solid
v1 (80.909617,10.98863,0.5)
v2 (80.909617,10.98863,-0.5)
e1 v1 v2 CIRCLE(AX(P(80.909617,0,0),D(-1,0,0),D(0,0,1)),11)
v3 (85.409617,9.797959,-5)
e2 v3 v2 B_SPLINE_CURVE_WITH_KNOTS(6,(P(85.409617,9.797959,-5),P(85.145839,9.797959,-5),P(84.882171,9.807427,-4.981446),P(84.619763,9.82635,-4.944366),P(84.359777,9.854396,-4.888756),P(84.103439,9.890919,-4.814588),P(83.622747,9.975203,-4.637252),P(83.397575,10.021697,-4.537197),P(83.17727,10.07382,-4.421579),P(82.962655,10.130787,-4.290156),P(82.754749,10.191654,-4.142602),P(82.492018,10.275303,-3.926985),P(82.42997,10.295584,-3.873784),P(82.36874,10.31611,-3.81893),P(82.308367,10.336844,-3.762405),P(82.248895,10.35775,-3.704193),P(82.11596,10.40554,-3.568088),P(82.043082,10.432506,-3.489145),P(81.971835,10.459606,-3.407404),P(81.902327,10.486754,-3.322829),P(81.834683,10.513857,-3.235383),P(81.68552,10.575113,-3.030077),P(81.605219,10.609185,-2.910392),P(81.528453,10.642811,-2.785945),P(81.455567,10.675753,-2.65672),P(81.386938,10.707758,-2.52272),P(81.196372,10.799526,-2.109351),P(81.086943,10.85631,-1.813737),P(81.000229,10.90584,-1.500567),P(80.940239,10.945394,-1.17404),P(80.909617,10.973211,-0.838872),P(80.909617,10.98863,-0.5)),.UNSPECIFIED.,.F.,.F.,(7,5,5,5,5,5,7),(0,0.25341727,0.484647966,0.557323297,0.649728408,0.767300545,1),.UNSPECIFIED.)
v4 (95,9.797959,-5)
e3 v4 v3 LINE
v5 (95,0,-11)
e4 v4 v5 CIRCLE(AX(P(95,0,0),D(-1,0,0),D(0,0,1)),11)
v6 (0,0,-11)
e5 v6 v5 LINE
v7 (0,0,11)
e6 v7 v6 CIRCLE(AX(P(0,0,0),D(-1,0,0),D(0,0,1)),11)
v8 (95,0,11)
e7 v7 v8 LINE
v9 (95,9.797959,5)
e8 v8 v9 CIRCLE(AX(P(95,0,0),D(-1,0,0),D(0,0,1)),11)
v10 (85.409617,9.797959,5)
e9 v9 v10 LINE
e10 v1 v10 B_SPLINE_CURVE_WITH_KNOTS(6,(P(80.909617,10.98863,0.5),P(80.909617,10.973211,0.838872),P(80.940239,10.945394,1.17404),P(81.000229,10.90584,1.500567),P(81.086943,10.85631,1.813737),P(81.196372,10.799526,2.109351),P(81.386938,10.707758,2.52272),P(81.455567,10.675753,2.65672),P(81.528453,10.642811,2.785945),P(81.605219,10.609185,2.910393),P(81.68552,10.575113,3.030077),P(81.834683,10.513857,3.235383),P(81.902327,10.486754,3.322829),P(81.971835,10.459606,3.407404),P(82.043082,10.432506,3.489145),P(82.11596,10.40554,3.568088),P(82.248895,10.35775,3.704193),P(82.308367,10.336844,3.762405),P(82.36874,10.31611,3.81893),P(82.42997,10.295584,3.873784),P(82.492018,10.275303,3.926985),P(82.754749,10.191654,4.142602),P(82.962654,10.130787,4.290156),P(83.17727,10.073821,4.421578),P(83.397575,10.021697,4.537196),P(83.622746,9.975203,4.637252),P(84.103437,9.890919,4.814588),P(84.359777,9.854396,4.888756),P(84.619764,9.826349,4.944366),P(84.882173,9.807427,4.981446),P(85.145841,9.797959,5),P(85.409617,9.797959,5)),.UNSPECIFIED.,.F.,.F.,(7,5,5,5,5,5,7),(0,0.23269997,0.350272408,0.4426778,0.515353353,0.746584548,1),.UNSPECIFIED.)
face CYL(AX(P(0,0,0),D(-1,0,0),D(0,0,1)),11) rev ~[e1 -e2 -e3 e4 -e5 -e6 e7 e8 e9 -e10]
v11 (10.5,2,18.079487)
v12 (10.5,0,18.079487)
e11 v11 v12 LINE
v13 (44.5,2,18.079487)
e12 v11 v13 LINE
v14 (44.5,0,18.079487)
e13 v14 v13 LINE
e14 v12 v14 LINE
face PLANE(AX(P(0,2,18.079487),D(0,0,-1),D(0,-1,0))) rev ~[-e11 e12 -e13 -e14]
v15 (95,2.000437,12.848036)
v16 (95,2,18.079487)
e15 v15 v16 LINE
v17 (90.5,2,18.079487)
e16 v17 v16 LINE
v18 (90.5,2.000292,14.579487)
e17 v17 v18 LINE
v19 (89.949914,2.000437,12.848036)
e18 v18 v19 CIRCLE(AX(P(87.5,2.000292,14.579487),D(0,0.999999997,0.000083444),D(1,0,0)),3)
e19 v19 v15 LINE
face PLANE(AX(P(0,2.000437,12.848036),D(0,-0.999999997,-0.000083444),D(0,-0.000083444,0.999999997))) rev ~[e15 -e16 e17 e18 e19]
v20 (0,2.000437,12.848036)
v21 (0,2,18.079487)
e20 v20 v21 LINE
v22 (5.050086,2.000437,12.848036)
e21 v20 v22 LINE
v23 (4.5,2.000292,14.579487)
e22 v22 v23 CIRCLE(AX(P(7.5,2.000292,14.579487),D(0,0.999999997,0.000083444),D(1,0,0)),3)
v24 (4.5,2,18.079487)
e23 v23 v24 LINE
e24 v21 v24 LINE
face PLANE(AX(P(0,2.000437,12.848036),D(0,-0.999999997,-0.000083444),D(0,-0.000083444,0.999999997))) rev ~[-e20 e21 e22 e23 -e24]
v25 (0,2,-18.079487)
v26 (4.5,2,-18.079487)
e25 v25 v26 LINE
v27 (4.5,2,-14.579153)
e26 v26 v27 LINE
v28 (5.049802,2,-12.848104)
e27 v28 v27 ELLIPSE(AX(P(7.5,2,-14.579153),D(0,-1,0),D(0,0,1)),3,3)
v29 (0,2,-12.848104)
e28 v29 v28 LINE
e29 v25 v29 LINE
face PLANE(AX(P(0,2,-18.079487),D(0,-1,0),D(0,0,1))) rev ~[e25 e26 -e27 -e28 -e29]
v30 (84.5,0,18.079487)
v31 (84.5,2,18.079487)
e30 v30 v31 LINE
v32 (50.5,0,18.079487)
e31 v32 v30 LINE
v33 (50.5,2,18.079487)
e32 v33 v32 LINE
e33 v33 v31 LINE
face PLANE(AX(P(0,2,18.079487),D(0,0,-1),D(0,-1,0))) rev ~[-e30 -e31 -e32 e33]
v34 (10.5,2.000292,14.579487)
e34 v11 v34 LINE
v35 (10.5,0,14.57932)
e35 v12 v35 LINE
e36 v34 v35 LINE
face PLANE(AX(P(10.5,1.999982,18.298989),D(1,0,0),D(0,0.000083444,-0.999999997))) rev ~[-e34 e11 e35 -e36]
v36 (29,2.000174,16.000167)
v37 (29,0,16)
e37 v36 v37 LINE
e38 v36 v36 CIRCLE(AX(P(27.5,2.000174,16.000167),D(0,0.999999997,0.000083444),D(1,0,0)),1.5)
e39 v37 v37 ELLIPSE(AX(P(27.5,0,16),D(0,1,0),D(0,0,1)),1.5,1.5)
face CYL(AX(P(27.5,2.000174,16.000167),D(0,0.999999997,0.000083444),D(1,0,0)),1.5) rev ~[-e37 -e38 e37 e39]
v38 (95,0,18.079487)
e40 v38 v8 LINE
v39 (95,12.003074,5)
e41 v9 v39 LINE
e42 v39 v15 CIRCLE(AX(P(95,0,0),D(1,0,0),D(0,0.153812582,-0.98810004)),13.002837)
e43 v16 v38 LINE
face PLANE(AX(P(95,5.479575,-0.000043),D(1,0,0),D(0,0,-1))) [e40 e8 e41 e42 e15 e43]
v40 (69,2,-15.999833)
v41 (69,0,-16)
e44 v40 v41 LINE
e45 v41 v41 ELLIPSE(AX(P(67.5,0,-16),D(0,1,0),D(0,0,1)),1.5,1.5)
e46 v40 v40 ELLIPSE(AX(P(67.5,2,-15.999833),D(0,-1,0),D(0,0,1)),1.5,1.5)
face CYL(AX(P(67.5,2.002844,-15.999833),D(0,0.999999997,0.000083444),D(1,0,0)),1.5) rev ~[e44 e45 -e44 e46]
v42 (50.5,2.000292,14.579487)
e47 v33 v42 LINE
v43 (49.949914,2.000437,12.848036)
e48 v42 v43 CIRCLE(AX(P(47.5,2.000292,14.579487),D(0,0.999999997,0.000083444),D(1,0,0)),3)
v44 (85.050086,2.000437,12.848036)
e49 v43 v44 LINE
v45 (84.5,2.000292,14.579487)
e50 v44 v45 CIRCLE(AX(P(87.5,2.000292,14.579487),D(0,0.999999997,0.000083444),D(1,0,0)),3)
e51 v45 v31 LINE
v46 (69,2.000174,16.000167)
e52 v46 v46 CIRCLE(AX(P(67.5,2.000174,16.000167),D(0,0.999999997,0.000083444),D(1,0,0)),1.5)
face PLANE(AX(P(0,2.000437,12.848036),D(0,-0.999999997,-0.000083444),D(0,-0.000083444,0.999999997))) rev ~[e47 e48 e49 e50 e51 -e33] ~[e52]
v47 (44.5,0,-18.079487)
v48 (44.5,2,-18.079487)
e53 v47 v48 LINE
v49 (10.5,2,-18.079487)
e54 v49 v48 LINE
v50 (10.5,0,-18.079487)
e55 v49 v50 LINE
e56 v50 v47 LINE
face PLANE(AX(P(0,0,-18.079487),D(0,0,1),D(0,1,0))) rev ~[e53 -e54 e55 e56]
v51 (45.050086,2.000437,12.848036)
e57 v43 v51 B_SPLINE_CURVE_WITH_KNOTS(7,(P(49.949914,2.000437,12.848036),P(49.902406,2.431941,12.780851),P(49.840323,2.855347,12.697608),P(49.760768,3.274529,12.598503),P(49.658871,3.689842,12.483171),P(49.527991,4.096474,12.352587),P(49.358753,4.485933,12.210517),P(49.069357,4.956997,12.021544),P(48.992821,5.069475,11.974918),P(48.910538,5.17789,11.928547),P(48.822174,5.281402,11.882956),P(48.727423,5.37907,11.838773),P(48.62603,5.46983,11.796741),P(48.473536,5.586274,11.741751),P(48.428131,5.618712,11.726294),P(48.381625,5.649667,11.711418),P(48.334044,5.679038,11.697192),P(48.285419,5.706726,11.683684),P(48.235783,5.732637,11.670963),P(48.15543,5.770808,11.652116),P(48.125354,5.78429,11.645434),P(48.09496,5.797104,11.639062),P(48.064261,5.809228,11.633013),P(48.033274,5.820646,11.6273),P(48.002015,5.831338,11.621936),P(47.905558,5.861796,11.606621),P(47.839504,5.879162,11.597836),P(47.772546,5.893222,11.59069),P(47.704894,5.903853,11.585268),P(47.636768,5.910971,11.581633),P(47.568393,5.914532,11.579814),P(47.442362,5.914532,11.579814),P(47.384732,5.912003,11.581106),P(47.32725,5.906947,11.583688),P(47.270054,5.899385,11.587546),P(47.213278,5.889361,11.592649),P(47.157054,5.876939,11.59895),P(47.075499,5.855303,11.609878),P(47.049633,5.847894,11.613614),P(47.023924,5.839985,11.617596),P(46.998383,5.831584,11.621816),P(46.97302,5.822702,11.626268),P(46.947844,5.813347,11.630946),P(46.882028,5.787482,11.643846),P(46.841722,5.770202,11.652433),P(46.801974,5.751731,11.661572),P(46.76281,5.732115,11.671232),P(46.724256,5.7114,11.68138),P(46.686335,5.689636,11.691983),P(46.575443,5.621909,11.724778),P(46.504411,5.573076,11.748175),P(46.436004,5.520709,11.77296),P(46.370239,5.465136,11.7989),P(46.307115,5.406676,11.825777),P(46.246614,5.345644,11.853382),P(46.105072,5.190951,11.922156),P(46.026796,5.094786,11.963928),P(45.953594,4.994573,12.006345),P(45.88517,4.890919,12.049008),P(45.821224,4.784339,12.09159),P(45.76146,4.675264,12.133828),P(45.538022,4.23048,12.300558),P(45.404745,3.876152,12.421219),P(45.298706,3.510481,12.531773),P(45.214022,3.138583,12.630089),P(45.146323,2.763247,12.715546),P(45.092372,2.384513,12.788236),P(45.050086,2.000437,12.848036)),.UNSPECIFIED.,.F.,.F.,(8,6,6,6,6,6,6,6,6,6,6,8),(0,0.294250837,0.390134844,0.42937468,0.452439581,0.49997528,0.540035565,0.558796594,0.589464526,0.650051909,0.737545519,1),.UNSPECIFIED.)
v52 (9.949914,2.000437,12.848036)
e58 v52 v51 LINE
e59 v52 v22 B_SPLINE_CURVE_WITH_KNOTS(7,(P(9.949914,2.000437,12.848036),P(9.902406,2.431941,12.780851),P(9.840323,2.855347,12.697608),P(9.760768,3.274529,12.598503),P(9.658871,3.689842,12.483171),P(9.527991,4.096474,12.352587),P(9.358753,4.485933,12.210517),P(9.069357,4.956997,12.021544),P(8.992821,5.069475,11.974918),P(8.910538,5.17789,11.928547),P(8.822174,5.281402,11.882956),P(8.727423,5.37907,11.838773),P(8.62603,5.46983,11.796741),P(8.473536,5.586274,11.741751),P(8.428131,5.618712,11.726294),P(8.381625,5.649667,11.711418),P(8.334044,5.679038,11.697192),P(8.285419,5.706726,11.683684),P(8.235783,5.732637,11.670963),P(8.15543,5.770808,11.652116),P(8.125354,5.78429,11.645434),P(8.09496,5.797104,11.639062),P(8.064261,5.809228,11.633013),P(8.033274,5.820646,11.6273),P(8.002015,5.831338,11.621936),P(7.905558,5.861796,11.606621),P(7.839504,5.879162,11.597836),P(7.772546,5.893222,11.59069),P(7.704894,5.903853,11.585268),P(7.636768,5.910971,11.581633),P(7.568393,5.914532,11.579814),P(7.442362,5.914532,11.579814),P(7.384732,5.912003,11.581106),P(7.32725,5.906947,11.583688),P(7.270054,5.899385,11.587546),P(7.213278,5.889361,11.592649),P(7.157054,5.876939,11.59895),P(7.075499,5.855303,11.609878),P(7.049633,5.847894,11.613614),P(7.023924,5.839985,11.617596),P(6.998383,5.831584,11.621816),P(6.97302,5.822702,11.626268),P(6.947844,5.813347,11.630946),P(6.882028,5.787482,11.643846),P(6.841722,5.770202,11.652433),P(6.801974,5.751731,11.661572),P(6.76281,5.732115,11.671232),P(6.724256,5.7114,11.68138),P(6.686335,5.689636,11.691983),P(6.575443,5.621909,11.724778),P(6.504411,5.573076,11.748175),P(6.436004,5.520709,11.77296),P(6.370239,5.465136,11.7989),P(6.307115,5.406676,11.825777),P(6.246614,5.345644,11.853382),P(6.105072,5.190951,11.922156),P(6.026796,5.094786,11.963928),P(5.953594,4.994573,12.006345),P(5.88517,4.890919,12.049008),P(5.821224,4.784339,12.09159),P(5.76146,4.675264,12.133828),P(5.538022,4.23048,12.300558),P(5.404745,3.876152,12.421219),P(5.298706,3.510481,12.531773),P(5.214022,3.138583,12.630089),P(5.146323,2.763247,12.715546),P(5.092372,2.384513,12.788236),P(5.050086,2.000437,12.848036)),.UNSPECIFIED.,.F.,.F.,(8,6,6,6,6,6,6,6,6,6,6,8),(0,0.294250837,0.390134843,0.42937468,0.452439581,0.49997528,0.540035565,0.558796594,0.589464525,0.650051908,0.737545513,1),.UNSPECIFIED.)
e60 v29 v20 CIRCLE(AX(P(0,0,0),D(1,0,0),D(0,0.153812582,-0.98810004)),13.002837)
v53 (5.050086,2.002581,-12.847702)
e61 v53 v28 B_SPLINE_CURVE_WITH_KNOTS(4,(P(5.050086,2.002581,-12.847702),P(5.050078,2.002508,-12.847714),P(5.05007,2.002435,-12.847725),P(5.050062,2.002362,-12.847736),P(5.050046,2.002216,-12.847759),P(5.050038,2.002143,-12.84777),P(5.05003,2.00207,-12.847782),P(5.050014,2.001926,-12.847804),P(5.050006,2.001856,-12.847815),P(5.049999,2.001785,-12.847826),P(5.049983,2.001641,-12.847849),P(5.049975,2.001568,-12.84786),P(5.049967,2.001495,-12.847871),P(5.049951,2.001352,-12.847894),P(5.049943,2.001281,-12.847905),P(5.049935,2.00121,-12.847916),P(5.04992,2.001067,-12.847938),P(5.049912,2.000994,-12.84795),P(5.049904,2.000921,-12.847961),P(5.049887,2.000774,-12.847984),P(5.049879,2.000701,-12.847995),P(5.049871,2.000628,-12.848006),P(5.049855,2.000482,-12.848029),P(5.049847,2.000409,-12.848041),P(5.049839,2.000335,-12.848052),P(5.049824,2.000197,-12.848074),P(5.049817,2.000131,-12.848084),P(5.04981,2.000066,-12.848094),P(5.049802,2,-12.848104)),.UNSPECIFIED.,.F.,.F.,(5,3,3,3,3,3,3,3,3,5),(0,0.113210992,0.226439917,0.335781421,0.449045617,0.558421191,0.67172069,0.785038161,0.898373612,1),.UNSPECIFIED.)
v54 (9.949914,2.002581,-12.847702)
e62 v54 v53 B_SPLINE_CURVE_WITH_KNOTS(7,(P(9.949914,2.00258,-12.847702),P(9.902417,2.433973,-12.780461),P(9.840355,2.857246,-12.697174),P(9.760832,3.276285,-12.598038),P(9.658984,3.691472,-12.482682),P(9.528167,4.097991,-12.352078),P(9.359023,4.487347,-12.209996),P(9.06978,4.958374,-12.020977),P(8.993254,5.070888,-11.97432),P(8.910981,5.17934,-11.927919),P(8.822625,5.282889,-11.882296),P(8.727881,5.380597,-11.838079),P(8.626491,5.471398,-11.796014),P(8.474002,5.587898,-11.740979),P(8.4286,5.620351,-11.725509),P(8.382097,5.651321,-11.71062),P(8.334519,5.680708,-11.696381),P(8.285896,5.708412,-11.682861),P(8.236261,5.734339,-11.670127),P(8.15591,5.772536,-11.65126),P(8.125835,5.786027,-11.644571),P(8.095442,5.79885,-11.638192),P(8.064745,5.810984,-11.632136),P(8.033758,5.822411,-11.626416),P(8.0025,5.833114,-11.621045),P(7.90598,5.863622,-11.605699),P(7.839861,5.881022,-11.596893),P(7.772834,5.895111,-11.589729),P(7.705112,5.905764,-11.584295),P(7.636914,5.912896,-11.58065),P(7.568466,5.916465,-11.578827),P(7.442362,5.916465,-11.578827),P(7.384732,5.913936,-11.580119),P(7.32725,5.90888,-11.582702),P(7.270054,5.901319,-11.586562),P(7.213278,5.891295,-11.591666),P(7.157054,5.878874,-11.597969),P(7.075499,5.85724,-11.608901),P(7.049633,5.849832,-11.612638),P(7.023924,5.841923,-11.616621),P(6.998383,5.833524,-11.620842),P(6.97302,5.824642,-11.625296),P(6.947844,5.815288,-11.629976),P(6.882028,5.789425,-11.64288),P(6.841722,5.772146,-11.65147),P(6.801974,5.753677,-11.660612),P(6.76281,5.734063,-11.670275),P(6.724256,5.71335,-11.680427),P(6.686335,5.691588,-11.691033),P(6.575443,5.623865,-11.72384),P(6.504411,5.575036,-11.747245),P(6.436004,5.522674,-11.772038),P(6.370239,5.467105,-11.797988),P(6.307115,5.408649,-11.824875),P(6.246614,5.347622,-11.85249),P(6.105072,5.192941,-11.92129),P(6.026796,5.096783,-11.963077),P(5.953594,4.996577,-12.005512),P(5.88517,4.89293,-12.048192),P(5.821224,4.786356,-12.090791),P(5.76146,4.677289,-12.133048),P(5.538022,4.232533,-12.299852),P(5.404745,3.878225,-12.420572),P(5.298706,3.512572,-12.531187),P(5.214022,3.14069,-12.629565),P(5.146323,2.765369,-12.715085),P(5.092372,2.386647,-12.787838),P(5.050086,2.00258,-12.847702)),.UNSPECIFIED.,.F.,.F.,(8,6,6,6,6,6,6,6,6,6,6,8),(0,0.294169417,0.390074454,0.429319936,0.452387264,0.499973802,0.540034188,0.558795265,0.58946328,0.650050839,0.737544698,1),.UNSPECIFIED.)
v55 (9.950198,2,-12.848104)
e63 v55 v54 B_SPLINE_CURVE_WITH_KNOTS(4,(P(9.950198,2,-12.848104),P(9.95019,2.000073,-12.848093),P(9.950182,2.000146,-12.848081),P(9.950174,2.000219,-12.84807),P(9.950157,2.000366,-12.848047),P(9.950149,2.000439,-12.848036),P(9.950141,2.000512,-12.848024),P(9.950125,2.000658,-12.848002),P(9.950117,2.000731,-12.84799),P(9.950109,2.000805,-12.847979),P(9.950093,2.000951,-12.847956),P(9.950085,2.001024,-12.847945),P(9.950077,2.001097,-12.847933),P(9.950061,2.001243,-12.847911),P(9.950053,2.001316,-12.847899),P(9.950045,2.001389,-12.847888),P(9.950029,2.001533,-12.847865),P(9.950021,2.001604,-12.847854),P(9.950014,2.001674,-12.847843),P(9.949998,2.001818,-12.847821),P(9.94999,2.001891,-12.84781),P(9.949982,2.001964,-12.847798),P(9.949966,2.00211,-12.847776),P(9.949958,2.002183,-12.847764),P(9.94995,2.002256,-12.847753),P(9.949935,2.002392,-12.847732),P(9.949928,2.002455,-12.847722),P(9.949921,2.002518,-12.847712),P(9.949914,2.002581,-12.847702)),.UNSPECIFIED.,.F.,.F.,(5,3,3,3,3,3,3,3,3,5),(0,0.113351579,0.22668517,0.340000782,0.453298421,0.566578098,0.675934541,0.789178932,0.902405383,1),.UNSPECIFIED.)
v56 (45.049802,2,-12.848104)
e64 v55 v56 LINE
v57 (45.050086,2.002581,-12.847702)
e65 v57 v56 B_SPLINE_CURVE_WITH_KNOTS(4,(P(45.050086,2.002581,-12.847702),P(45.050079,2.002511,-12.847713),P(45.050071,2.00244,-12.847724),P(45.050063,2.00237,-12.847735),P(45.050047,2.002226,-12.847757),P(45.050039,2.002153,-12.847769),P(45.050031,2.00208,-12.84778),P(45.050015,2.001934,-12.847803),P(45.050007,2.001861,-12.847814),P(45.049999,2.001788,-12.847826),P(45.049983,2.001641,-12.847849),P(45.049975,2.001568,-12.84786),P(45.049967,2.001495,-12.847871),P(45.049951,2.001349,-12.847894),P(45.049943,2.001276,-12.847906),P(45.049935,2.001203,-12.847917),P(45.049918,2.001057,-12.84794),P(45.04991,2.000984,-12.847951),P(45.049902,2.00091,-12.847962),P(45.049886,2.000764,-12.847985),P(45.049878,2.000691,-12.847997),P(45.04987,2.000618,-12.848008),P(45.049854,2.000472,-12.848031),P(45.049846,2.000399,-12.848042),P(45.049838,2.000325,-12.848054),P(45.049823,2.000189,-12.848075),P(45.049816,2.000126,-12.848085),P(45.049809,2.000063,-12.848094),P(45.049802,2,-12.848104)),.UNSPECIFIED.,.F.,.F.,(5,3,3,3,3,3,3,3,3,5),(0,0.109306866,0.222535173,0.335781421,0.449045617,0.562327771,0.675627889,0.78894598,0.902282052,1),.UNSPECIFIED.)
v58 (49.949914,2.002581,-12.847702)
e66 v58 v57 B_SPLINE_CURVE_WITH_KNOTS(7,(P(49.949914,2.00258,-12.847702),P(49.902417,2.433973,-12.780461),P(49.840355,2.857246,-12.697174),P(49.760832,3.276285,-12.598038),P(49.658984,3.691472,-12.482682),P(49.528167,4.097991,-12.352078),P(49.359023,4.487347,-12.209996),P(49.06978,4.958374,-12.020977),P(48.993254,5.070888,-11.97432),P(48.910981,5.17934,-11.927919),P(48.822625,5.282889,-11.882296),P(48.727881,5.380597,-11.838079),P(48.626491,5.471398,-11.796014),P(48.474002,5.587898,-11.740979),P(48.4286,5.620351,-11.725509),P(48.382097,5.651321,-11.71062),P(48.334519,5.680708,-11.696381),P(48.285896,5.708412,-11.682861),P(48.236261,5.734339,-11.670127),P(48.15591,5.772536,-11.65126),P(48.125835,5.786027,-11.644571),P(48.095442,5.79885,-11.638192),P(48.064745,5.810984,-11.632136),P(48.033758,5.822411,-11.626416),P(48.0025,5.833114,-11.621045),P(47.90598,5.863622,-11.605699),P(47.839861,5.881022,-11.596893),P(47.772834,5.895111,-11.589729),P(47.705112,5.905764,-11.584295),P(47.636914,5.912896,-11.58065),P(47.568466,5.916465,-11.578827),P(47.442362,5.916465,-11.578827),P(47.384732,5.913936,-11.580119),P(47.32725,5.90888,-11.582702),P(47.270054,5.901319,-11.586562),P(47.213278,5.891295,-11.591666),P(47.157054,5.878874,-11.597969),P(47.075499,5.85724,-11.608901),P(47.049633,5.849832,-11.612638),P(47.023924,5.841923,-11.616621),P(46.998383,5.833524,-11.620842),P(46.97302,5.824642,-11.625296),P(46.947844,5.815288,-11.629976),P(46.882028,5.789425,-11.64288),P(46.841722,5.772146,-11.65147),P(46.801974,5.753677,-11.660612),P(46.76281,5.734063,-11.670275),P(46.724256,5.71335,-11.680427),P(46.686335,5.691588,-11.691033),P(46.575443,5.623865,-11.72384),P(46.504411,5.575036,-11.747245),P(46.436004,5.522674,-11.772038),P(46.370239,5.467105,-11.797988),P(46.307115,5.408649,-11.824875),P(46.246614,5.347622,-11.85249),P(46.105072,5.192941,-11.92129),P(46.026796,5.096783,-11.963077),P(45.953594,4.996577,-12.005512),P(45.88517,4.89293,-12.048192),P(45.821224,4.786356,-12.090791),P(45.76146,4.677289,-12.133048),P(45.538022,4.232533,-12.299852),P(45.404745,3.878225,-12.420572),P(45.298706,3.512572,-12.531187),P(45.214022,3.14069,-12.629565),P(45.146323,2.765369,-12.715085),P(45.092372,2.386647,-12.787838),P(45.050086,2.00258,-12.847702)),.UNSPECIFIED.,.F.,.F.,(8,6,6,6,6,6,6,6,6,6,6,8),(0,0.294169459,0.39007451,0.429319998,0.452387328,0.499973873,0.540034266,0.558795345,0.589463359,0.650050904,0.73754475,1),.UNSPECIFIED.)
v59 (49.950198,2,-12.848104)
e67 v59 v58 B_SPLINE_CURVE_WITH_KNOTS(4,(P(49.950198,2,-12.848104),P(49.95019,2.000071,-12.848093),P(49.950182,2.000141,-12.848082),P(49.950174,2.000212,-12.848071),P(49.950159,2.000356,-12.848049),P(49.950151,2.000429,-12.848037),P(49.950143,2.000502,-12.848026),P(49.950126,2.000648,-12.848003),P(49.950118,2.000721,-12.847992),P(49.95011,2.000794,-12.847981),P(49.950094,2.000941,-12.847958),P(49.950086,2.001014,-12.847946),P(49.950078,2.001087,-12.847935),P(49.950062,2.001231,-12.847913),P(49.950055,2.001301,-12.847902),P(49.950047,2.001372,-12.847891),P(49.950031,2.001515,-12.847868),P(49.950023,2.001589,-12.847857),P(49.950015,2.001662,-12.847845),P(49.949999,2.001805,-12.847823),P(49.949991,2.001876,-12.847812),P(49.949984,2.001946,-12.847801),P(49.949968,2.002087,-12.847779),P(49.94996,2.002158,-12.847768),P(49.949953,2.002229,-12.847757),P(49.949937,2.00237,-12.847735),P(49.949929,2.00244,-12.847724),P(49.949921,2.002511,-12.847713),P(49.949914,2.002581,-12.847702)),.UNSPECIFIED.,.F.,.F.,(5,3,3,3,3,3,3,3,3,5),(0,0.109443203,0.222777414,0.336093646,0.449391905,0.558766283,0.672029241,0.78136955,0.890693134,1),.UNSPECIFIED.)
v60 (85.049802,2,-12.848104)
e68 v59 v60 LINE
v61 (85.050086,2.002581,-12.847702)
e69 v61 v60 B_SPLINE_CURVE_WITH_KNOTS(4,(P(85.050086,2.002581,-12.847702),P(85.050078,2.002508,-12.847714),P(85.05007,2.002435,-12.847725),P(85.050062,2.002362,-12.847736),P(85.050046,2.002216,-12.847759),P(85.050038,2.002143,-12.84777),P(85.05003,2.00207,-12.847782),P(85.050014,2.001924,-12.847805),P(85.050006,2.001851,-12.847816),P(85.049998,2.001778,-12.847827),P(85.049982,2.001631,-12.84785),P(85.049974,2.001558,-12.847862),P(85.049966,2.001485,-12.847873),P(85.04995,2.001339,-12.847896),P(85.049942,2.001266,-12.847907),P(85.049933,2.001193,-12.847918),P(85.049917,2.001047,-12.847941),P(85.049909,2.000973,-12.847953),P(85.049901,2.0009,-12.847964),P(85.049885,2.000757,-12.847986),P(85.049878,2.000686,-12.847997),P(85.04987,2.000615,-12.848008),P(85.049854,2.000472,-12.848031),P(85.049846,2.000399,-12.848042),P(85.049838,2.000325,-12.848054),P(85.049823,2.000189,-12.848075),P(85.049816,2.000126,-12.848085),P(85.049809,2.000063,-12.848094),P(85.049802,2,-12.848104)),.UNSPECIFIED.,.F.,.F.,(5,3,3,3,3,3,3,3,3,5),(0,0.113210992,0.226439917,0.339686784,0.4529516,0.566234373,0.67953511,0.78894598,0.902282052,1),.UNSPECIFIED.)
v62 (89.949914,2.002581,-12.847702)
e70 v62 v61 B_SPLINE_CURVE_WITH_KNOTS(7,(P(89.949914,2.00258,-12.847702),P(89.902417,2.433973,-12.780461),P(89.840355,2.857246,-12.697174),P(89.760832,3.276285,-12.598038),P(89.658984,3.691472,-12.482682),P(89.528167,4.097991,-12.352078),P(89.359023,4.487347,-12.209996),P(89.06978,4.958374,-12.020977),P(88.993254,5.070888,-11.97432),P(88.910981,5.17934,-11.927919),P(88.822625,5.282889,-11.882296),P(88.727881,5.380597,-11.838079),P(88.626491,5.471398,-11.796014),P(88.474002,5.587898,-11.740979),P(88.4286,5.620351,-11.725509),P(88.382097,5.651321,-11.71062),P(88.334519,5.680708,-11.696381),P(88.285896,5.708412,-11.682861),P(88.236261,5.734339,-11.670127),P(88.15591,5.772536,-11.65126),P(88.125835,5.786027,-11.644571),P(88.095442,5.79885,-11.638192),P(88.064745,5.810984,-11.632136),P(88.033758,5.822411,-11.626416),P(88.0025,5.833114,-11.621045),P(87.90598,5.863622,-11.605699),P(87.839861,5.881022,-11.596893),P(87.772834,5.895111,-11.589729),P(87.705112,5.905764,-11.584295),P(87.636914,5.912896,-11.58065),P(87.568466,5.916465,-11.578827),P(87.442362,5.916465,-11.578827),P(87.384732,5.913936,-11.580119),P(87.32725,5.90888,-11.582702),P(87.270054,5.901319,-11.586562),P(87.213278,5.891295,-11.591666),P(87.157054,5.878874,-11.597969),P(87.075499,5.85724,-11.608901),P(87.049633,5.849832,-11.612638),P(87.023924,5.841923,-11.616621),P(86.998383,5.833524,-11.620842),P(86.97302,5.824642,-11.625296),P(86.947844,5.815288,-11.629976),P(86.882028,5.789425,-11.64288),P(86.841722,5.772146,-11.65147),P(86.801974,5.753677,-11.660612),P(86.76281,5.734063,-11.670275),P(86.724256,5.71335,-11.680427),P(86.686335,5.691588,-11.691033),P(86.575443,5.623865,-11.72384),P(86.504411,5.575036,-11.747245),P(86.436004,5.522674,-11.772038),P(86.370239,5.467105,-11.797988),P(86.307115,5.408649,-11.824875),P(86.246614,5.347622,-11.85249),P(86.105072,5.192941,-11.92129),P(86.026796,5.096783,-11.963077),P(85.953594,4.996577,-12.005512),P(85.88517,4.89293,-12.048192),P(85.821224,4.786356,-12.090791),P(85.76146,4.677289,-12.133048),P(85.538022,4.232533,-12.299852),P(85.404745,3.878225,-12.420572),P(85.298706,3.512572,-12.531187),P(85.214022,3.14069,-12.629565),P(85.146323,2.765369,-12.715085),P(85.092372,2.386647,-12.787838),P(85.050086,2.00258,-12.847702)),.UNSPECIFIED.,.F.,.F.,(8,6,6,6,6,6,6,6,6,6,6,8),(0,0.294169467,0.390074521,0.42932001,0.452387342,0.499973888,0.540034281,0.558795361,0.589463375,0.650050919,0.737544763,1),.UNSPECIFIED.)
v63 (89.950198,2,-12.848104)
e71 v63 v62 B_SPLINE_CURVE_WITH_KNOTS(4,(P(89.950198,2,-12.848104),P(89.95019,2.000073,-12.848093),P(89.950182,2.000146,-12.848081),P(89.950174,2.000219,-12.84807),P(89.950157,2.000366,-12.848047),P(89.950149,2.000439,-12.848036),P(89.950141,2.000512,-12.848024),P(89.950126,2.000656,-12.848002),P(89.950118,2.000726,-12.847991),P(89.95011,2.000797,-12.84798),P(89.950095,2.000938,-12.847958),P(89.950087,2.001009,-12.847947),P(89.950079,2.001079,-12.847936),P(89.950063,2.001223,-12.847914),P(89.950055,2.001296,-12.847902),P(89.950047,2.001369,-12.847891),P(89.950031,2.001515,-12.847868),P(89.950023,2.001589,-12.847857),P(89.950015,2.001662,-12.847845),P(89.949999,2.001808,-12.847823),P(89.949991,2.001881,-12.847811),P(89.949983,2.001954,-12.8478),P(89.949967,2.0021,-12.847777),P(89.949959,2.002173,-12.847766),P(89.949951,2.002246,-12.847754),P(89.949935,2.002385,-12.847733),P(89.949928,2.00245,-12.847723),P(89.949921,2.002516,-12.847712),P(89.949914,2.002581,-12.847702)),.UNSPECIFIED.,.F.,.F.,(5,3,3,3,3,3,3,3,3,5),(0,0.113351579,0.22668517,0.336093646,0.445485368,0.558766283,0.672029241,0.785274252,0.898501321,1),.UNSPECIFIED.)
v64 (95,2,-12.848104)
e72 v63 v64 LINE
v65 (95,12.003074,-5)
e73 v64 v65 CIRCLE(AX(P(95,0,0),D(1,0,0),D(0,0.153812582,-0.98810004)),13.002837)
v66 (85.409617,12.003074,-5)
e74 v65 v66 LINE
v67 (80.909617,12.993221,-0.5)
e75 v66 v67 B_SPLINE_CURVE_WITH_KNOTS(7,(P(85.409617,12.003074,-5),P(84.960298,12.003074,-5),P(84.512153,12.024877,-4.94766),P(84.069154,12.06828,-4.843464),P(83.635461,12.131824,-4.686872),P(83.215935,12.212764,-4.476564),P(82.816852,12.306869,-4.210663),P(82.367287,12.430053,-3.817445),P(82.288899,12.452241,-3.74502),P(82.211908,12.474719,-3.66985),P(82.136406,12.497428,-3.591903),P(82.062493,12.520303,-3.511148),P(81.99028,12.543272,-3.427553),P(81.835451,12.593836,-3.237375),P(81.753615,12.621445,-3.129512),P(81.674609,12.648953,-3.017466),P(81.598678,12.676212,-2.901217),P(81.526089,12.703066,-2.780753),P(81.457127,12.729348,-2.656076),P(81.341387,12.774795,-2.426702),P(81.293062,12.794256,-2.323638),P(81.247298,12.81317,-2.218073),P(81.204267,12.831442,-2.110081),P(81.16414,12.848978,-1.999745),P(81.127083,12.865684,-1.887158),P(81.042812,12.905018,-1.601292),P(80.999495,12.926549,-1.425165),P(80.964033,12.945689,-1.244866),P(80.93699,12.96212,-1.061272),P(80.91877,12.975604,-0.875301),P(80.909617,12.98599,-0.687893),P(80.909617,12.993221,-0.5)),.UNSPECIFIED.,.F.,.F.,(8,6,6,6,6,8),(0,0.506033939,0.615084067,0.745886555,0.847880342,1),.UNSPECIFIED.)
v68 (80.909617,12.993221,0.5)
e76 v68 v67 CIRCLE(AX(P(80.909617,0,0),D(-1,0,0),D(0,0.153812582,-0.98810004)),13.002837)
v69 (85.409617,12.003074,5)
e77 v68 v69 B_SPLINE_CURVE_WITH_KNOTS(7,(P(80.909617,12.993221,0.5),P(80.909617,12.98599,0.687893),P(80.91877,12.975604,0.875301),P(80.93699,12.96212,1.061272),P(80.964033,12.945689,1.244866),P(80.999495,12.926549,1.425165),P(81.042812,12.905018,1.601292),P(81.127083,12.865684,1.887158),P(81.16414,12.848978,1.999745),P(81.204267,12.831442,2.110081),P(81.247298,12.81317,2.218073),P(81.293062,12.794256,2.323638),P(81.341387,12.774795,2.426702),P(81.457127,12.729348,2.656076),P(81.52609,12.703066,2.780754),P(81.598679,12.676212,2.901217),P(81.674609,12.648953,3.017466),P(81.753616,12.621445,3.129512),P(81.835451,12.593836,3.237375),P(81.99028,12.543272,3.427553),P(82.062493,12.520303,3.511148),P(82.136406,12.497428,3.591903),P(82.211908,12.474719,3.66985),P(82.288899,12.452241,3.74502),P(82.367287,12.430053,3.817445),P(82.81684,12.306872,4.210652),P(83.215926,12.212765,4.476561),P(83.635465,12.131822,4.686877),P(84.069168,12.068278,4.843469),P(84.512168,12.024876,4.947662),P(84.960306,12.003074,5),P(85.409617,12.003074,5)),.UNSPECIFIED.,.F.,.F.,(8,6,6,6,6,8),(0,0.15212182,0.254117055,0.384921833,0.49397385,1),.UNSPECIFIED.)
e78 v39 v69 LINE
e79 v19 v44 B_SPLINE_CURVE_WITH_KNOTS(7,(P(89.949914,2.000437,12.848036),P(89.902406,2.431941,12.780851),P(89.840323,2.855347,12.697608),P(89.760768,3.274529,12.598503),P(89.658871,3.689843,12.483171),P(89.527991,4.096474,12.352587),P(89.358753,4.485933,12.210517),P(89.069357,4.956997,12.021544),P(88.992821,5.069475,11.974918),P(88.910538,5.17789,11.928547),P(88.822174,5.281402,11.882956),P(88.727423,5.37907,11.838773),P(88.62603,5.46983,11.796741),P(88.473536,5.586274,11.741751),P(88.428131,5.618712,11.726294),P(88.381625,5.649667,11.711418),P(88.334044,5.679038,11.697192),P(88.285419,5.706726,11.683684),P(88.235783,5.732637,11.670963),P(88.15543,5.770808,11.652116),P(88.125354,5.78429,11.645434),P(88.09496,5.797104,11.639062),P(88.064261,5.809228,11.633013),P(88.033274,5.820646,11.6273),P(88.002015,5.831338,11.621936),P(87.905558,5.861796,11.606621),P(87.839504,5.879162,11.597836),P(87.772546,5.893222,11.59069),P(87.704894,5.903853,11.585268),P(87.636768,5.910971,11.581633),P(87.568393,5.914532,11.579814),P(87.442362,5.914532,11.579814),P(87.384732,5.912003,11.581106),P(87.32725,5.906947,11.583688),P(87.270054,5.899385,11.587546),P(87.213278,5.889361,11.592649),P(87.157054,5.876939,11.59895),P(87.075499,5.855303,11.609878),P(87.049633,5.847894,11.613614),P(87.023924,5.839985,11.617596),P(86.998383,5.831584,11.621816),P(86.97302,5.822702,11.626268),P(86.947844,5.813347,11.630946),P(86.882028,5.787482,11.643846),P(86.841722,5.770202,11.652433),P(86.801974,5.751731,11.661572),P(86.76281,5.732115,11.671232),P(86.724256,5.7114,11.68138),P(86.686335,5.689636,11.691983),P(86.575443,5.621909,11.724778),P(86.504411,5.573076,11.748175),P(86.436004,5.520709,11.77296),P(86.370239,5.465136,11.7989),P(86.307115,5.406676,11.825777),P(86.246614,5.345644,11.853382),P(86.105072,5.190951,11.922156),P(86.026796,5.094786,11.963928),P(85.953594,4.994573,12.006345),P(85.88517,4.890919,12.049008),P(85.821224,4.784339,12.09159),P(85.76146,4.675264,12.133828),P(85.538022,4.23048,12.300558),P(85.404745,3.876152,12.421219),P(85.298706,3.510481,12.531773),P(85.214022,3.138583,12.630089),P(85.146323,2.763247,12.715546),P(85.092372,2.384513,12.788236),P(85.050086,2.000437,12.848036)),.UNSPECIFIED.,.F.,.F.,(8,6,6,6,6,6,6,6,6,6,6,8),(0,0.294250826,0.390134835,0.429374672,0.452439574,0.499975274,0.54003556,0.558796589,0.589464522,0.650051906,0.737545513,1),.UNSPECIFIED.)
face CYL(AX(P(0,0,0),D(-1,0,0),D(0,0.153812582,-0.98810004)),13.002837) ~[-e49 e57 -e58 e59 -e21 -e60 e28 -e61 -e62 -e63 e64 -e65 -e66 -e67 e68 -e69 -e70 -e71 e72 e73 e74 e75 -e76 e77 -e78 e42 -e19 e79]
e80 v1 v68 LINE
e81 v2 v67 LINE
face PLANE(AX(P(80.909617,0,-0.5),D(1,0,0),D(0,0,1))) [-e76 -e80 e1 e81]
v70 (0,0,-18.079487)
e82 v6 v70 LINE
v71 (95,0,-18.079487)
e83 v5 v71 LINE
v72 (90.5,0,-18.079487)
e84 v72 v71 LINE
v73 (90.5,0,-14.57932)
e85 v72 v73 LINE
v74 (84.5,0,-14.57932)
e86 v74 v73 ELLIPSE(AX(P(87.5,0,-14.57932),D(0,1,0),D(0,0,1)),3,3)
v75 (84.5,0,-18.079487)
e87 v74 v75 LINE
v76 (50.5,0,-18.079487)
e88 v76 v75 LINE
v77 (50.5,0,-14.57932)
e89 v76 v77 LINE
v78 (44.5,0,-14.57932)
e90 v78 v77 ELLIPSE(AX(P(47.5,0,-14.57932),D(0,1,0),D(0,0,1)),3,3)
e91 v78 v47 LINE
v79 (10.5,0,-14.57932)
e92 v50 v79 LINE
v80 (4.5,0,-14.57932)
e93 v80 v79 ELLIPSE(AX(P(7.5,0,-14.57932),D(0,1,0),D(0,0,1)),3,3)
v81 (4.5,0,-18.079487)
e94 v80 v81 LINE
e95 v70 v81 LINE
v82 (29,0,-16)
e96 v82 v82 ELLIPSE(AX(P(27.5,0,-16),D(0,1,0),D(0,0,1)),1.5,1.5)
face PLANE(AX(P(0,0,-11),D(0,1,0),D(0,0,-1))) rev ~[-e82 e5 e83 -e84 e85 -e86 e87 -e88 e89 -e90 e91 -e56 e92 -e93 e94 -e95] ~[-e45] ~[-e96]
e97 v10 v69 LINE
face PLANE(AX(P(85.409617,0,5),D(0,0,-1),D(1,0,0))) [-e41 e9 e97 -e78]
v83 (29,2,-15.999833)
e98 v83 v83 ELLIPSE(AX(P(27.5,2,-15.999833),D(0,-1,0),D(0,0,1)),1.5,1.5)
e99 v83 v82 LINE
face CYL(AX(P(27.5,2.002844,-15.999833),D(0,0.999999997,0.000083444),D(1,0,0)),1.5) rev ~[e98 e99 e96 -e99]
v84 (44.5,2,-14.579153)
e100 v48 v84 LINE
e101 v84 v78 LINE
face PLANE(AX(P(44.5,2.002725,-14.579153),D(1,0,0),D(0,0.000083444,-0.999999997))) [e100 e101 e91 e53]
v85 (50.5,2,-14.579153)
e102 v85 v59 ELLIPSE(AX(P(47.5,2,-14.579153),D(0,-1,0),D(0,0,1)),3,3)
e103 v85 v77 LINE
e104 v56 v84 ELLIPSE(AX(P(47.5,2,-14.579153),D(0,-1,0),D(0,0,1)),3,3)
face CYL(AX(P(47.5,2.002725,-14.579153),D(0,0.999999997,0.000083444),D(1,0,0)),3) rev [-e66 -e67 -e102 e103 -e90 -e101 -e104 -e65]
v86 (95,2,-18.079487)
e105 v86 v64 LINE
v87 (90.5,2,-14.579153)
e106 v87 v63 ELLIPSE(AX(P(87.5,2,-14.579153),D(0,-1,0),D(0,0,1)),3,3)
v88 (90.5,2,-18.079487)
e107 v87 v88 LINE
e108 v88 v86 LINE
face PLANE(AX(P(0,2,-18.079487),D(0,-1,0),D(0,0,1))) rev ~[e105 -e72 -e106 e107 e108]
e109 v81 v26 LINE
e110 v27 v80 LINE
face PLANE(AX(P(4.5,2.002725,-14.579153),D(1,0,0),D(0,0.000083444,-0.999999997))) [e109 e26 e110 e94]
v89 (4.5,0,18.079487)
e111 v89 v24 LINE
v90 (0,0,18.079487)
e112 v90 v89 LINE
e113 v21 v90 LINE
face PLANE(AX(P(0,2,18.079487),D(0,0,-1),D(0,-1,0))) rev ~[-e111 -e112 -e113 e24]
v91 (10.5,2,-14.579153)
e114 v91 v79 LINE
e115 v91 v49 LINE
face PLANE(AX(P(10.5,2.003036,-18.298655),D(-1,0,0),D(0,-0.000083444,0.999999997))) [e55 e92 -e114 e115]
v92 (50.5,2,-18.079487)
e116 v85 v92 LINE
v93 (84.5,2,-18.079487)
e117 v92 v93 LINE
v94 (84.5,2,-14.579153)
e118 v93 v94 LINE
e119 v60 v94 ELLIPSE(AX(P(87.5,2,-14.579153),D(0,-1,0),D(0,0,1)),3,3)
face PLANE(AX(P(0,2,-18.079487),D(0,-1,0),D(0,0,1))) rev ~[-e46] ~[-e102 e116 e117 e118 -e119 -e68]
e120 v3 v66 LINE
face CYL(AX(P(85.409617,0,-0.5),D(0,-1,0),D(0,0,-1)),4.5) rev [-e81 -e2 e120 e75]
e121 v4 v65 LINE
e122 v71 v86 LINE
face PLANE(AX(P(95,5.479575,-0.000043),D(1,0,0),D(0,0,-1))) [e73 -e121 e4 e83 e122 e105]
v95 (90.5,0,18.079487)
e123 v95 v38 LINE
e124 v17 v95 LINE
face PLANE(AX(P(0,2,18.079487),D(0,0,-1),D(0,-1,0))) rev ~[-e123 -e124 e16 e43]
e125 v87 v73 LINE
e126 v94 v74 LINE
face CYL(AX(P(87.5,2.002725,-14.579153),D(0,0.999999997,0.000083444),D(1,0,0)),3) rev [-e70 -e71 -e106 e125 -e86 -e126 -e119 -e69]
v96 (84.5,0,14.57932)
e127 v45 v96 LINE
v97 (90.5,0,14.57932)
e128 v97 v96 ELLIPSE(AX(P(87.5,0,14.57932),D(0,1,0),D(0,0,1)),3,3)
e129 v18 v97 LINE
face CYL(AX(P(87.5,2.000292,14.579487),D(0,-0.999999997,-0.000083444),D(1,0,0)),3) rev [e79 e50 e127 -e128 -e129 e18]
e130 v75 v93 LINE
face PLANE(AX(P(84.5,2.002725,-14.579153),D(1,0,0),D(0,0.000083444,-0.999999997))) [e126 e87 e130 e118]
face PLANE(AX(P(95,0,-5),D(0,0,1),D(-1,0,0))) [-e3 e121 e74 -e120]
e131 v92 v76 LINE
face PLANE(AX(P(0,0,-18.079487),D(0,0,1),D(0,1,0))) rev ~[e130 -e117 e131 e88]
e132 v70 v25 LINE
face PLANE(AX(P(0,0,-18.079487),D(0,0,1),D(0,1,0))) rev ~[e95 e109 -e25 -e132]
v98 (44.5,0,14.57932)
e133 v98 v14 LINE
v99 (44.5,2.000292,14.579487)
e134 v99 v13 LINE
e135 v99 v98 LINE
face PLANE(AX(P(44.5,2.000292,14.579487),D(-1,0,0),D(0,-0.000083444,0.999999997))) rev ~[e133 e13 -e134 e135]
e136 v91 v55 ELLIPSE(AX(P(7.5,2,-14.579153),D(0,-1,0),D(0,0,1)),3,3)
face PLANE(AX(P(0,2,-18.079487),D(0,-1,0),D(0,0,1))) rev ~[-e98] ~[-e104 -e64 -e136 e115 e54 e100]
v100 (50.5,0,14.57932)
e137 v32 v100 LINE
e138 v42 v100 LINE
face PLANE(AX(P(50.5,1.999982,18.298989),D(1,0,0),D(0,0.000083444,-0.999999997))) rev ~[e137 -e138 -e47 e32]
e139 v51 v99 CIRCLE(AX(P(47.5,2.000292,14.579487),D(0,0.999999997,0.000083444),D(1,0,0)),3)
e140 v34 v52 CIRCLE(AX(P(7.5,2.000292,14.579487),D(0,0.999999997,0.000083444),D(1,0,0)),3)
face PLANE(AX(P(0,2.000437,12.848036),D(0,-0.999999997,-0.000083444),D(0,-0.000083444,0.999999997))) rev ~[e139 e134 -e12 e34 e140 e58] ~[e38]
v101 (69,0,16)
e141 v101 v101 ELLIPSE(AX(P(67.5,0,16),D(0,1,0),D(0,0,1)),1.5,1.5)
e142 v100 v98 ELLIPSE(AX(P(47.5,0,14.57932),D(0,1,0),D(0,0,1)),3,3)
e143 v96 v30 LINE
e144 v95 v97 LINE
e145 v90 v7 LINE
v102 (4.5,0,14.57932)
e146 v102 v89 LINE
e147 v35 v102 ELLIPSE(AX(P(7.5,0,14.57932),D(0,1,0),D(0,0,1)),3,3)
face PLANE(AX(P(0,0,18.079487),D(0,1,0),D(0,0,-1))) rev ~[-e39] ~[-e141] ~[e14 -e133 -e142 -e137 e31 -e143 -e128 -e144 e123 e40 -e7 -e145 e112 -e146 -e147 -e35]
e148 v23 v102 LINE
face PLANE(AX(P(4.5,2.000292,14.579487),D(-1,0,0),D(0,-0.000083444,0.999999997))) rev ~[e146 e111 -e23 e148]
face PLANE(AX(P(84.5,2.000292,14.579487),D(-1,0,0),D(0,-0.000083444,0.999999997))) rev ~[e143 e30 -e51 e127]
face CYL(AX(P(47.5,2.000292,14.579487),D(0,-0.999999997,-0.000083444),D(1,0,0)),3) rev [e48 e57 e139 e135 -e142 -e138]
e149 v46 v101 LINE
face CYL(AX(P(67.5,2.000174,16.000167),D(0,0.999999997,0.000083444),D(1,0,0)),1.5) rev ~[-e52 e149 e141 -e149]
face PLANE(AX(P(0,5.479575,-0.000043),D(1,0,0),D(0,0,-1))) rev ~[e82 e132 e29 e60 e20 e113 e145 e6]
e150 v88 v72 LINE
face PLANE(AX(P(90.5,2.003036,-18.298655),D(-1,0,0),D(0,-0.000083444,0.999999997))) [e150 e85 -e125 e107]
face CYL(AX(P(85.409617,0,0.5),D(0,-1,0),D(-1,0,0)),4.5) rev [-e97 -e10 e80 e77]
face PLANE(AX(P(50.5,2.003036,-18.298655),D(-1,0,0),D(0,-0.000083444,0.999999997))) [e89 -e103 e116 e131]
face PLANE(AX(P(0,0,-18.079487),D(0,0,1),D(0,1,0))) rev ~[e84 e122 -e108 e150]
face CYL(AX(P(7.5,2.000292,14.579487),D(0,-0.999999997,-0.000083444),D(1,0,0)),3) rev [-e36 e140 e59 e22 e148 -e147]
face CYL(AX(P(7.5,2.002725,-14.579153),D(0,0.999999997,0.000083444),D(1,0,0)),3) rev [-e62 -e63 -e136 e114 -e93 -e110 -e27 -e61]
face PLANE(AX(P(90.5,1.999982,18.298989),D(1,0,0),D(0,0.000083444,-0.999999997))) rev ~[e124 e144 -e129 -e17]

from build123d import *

# Parameters (mm, degrees)
EXTRUDE_1_DEPTH          = 95
SKETCH_2_R               = 1.5
CUT_EXTRUDE_1_DEPTH      = 12.002837415
CUT_EXTRUDE_1_DEPTH_BACK = 3.00301723
CUT_EXTRUDE_2_DEPTH      = 14.002837554


with BuildPart() as part:
    # Эскиз1 → Бобышка-Вытянуть1 (new body)
    with BuildSketch(Plane(origin=(0, 0, 0), x_dir=(0, 0, -1), z_dir=(1, 0, 0))):
        with BuildLine():
            Line((11, 0), (18.079487192, 0))
            Line((18.079487192, 0), (18.079487192, 2))
            Line((18.079487192, 2), (12.848104212, 2))
            ThreePointArc((12.848104212, 2), (0.000220895, 13.002837452), (-12.848036252, 2.000436531))
            Line((-12.848036252, 2.000436531), (-18.079487192, 2))
            Line((-18.079487192, 2), (-18.079487192, 0))
            Line((-18.079487192, 0), (-11, 0))
            ThreePointArc((-11, 0), (0, 11), (11, 0))
        make_face()
    extrude(amount=EXTRUDE_1_DEPTH)

    # Эскиз2 → Вырез-Вытянуть1 (cut, two sides)
    with BuildSketch(Plane(origin=(0, 2.001508604, 0.000167013), x_dir=(1, 0, 0), z_dir=(0, 0.999999997, 8.3444e-05))) as cut_extrude_1_sk:
        with Locations((27.5, -16)):
            Circle(SKETCH_2_R)
        with Locations((67.5, -16)):
            Circle(SKETCH_2_R)
        with Locations((67.5, 16)):
            Circle(SKETCH_2_R)
        with Locations((27.5, 16)):
            Circle(SKETCH_2_R)
        with BuildLine():
            Line((4.5, -14.579320241), (4.5, -18.29882224))
            Line((4.5, -18.29882224), (10.5, -18.29882224))
            Line((10.5, -18.29882224), (10.5, -14.579320241))
            ThreePointArc((10.5, -14.579320241), (7.5, -11.579320241), (4.5, -14.579320241))
        make_face()
        with BuildLine():
            Line((50.5, -18.29882224), (50.5, -14.579320241))
            ThreePointArc((50.5, -14.579320241), (47.5, -11.579320241), (44.5, -14.579320241))
            Line((44.5, -14.579320241), (44.5, -18.29882224))
            Line((44.5, -18.29882224), (50.5, -18.29882224))
        make_face()
        with BuildLine():
            Line((90.5, -18.29882224), (90.5, -14.579320241))
            ThreePointArc((90.5, -14.579320241), (87.5, -11.579320241), (84.5, -14.579320241))
            Line((84.5, -14.579320241), (84.5, -18.29882224))
            Line((84.5, -18.29882224), (90.5, -18.29882224))
        make_face()
        with BuildLine():
            Line((84.5, 18.29882224), (90.5, 18.29882224))
            Line((90.5, 18.29882224), (90.5, 14.579320241))
            ThreePointArc((90.5, 14.579320241), (87.5, 11.579320241), (84.5, 14.579320241))
            Line((84.5, 14.579320241), (84.5, 18.29882224))
        make_face()
        with BuildLine():
            Line((44.5, 18.29882224), (50.5, 18.29882224))
            Line((50.5, 18.29882224), (50.5, 14.579320241))
            ThreePointArc((50.5, 14.579320241), (47.5, 11.579320241), (44.5, 14.579320241))
            Line((44.5, 14.579320241), (44.5, 18.29882224))
        make_face()
        with BuildLine():
            Line((4.5, 18.29882224), (10.5, 18.29882224))
            Line((10.5, 18.29882224), (10.5, 14.579320241))
            ThreePointArc((10.5, 14.579320241), (7.5, 11.579320241), (4.5, 14.579320241))
            Line((4.5, 14.579320241), (4.5, 18.29882224))
        make_face()
    extrude(amount=CUT_EXTRUDE_1_DEPTH, mode=Mode.SUBTRACT)
    extrude(cut_extrude_1_sk.sketch, amount=-CUT_EXTRUDE_1_DEPTH_BACK, mode=Mode.SUBTRACT)

    # Эскиз3 → Вырез-Вытянуть2 (cut, through all)
    with BuildSketch(Plane.XZ):
        with BuildLine():
            Line((85.409616901, 5), (95, 5))
            Line((95, 5), (95, -5))
            Line((95, -5), (85.409616901, -5))
            ThreePointArc((85.409616901, -5), (82.227636386, -3.681980515), (80.909616901, -0.5))
            Line((80.909616901, -0.5), (80.909616901, 0.5))
            ThreePointArc((80.909616901, 0.5), (82.227636386, 3.681980515), (85.409616901, 5))
        make_face()
    extrude(amount=-CUT_EXTRUDE_2_DEPTH, mode=Mode.SUBTRACT)


solid = part.part
